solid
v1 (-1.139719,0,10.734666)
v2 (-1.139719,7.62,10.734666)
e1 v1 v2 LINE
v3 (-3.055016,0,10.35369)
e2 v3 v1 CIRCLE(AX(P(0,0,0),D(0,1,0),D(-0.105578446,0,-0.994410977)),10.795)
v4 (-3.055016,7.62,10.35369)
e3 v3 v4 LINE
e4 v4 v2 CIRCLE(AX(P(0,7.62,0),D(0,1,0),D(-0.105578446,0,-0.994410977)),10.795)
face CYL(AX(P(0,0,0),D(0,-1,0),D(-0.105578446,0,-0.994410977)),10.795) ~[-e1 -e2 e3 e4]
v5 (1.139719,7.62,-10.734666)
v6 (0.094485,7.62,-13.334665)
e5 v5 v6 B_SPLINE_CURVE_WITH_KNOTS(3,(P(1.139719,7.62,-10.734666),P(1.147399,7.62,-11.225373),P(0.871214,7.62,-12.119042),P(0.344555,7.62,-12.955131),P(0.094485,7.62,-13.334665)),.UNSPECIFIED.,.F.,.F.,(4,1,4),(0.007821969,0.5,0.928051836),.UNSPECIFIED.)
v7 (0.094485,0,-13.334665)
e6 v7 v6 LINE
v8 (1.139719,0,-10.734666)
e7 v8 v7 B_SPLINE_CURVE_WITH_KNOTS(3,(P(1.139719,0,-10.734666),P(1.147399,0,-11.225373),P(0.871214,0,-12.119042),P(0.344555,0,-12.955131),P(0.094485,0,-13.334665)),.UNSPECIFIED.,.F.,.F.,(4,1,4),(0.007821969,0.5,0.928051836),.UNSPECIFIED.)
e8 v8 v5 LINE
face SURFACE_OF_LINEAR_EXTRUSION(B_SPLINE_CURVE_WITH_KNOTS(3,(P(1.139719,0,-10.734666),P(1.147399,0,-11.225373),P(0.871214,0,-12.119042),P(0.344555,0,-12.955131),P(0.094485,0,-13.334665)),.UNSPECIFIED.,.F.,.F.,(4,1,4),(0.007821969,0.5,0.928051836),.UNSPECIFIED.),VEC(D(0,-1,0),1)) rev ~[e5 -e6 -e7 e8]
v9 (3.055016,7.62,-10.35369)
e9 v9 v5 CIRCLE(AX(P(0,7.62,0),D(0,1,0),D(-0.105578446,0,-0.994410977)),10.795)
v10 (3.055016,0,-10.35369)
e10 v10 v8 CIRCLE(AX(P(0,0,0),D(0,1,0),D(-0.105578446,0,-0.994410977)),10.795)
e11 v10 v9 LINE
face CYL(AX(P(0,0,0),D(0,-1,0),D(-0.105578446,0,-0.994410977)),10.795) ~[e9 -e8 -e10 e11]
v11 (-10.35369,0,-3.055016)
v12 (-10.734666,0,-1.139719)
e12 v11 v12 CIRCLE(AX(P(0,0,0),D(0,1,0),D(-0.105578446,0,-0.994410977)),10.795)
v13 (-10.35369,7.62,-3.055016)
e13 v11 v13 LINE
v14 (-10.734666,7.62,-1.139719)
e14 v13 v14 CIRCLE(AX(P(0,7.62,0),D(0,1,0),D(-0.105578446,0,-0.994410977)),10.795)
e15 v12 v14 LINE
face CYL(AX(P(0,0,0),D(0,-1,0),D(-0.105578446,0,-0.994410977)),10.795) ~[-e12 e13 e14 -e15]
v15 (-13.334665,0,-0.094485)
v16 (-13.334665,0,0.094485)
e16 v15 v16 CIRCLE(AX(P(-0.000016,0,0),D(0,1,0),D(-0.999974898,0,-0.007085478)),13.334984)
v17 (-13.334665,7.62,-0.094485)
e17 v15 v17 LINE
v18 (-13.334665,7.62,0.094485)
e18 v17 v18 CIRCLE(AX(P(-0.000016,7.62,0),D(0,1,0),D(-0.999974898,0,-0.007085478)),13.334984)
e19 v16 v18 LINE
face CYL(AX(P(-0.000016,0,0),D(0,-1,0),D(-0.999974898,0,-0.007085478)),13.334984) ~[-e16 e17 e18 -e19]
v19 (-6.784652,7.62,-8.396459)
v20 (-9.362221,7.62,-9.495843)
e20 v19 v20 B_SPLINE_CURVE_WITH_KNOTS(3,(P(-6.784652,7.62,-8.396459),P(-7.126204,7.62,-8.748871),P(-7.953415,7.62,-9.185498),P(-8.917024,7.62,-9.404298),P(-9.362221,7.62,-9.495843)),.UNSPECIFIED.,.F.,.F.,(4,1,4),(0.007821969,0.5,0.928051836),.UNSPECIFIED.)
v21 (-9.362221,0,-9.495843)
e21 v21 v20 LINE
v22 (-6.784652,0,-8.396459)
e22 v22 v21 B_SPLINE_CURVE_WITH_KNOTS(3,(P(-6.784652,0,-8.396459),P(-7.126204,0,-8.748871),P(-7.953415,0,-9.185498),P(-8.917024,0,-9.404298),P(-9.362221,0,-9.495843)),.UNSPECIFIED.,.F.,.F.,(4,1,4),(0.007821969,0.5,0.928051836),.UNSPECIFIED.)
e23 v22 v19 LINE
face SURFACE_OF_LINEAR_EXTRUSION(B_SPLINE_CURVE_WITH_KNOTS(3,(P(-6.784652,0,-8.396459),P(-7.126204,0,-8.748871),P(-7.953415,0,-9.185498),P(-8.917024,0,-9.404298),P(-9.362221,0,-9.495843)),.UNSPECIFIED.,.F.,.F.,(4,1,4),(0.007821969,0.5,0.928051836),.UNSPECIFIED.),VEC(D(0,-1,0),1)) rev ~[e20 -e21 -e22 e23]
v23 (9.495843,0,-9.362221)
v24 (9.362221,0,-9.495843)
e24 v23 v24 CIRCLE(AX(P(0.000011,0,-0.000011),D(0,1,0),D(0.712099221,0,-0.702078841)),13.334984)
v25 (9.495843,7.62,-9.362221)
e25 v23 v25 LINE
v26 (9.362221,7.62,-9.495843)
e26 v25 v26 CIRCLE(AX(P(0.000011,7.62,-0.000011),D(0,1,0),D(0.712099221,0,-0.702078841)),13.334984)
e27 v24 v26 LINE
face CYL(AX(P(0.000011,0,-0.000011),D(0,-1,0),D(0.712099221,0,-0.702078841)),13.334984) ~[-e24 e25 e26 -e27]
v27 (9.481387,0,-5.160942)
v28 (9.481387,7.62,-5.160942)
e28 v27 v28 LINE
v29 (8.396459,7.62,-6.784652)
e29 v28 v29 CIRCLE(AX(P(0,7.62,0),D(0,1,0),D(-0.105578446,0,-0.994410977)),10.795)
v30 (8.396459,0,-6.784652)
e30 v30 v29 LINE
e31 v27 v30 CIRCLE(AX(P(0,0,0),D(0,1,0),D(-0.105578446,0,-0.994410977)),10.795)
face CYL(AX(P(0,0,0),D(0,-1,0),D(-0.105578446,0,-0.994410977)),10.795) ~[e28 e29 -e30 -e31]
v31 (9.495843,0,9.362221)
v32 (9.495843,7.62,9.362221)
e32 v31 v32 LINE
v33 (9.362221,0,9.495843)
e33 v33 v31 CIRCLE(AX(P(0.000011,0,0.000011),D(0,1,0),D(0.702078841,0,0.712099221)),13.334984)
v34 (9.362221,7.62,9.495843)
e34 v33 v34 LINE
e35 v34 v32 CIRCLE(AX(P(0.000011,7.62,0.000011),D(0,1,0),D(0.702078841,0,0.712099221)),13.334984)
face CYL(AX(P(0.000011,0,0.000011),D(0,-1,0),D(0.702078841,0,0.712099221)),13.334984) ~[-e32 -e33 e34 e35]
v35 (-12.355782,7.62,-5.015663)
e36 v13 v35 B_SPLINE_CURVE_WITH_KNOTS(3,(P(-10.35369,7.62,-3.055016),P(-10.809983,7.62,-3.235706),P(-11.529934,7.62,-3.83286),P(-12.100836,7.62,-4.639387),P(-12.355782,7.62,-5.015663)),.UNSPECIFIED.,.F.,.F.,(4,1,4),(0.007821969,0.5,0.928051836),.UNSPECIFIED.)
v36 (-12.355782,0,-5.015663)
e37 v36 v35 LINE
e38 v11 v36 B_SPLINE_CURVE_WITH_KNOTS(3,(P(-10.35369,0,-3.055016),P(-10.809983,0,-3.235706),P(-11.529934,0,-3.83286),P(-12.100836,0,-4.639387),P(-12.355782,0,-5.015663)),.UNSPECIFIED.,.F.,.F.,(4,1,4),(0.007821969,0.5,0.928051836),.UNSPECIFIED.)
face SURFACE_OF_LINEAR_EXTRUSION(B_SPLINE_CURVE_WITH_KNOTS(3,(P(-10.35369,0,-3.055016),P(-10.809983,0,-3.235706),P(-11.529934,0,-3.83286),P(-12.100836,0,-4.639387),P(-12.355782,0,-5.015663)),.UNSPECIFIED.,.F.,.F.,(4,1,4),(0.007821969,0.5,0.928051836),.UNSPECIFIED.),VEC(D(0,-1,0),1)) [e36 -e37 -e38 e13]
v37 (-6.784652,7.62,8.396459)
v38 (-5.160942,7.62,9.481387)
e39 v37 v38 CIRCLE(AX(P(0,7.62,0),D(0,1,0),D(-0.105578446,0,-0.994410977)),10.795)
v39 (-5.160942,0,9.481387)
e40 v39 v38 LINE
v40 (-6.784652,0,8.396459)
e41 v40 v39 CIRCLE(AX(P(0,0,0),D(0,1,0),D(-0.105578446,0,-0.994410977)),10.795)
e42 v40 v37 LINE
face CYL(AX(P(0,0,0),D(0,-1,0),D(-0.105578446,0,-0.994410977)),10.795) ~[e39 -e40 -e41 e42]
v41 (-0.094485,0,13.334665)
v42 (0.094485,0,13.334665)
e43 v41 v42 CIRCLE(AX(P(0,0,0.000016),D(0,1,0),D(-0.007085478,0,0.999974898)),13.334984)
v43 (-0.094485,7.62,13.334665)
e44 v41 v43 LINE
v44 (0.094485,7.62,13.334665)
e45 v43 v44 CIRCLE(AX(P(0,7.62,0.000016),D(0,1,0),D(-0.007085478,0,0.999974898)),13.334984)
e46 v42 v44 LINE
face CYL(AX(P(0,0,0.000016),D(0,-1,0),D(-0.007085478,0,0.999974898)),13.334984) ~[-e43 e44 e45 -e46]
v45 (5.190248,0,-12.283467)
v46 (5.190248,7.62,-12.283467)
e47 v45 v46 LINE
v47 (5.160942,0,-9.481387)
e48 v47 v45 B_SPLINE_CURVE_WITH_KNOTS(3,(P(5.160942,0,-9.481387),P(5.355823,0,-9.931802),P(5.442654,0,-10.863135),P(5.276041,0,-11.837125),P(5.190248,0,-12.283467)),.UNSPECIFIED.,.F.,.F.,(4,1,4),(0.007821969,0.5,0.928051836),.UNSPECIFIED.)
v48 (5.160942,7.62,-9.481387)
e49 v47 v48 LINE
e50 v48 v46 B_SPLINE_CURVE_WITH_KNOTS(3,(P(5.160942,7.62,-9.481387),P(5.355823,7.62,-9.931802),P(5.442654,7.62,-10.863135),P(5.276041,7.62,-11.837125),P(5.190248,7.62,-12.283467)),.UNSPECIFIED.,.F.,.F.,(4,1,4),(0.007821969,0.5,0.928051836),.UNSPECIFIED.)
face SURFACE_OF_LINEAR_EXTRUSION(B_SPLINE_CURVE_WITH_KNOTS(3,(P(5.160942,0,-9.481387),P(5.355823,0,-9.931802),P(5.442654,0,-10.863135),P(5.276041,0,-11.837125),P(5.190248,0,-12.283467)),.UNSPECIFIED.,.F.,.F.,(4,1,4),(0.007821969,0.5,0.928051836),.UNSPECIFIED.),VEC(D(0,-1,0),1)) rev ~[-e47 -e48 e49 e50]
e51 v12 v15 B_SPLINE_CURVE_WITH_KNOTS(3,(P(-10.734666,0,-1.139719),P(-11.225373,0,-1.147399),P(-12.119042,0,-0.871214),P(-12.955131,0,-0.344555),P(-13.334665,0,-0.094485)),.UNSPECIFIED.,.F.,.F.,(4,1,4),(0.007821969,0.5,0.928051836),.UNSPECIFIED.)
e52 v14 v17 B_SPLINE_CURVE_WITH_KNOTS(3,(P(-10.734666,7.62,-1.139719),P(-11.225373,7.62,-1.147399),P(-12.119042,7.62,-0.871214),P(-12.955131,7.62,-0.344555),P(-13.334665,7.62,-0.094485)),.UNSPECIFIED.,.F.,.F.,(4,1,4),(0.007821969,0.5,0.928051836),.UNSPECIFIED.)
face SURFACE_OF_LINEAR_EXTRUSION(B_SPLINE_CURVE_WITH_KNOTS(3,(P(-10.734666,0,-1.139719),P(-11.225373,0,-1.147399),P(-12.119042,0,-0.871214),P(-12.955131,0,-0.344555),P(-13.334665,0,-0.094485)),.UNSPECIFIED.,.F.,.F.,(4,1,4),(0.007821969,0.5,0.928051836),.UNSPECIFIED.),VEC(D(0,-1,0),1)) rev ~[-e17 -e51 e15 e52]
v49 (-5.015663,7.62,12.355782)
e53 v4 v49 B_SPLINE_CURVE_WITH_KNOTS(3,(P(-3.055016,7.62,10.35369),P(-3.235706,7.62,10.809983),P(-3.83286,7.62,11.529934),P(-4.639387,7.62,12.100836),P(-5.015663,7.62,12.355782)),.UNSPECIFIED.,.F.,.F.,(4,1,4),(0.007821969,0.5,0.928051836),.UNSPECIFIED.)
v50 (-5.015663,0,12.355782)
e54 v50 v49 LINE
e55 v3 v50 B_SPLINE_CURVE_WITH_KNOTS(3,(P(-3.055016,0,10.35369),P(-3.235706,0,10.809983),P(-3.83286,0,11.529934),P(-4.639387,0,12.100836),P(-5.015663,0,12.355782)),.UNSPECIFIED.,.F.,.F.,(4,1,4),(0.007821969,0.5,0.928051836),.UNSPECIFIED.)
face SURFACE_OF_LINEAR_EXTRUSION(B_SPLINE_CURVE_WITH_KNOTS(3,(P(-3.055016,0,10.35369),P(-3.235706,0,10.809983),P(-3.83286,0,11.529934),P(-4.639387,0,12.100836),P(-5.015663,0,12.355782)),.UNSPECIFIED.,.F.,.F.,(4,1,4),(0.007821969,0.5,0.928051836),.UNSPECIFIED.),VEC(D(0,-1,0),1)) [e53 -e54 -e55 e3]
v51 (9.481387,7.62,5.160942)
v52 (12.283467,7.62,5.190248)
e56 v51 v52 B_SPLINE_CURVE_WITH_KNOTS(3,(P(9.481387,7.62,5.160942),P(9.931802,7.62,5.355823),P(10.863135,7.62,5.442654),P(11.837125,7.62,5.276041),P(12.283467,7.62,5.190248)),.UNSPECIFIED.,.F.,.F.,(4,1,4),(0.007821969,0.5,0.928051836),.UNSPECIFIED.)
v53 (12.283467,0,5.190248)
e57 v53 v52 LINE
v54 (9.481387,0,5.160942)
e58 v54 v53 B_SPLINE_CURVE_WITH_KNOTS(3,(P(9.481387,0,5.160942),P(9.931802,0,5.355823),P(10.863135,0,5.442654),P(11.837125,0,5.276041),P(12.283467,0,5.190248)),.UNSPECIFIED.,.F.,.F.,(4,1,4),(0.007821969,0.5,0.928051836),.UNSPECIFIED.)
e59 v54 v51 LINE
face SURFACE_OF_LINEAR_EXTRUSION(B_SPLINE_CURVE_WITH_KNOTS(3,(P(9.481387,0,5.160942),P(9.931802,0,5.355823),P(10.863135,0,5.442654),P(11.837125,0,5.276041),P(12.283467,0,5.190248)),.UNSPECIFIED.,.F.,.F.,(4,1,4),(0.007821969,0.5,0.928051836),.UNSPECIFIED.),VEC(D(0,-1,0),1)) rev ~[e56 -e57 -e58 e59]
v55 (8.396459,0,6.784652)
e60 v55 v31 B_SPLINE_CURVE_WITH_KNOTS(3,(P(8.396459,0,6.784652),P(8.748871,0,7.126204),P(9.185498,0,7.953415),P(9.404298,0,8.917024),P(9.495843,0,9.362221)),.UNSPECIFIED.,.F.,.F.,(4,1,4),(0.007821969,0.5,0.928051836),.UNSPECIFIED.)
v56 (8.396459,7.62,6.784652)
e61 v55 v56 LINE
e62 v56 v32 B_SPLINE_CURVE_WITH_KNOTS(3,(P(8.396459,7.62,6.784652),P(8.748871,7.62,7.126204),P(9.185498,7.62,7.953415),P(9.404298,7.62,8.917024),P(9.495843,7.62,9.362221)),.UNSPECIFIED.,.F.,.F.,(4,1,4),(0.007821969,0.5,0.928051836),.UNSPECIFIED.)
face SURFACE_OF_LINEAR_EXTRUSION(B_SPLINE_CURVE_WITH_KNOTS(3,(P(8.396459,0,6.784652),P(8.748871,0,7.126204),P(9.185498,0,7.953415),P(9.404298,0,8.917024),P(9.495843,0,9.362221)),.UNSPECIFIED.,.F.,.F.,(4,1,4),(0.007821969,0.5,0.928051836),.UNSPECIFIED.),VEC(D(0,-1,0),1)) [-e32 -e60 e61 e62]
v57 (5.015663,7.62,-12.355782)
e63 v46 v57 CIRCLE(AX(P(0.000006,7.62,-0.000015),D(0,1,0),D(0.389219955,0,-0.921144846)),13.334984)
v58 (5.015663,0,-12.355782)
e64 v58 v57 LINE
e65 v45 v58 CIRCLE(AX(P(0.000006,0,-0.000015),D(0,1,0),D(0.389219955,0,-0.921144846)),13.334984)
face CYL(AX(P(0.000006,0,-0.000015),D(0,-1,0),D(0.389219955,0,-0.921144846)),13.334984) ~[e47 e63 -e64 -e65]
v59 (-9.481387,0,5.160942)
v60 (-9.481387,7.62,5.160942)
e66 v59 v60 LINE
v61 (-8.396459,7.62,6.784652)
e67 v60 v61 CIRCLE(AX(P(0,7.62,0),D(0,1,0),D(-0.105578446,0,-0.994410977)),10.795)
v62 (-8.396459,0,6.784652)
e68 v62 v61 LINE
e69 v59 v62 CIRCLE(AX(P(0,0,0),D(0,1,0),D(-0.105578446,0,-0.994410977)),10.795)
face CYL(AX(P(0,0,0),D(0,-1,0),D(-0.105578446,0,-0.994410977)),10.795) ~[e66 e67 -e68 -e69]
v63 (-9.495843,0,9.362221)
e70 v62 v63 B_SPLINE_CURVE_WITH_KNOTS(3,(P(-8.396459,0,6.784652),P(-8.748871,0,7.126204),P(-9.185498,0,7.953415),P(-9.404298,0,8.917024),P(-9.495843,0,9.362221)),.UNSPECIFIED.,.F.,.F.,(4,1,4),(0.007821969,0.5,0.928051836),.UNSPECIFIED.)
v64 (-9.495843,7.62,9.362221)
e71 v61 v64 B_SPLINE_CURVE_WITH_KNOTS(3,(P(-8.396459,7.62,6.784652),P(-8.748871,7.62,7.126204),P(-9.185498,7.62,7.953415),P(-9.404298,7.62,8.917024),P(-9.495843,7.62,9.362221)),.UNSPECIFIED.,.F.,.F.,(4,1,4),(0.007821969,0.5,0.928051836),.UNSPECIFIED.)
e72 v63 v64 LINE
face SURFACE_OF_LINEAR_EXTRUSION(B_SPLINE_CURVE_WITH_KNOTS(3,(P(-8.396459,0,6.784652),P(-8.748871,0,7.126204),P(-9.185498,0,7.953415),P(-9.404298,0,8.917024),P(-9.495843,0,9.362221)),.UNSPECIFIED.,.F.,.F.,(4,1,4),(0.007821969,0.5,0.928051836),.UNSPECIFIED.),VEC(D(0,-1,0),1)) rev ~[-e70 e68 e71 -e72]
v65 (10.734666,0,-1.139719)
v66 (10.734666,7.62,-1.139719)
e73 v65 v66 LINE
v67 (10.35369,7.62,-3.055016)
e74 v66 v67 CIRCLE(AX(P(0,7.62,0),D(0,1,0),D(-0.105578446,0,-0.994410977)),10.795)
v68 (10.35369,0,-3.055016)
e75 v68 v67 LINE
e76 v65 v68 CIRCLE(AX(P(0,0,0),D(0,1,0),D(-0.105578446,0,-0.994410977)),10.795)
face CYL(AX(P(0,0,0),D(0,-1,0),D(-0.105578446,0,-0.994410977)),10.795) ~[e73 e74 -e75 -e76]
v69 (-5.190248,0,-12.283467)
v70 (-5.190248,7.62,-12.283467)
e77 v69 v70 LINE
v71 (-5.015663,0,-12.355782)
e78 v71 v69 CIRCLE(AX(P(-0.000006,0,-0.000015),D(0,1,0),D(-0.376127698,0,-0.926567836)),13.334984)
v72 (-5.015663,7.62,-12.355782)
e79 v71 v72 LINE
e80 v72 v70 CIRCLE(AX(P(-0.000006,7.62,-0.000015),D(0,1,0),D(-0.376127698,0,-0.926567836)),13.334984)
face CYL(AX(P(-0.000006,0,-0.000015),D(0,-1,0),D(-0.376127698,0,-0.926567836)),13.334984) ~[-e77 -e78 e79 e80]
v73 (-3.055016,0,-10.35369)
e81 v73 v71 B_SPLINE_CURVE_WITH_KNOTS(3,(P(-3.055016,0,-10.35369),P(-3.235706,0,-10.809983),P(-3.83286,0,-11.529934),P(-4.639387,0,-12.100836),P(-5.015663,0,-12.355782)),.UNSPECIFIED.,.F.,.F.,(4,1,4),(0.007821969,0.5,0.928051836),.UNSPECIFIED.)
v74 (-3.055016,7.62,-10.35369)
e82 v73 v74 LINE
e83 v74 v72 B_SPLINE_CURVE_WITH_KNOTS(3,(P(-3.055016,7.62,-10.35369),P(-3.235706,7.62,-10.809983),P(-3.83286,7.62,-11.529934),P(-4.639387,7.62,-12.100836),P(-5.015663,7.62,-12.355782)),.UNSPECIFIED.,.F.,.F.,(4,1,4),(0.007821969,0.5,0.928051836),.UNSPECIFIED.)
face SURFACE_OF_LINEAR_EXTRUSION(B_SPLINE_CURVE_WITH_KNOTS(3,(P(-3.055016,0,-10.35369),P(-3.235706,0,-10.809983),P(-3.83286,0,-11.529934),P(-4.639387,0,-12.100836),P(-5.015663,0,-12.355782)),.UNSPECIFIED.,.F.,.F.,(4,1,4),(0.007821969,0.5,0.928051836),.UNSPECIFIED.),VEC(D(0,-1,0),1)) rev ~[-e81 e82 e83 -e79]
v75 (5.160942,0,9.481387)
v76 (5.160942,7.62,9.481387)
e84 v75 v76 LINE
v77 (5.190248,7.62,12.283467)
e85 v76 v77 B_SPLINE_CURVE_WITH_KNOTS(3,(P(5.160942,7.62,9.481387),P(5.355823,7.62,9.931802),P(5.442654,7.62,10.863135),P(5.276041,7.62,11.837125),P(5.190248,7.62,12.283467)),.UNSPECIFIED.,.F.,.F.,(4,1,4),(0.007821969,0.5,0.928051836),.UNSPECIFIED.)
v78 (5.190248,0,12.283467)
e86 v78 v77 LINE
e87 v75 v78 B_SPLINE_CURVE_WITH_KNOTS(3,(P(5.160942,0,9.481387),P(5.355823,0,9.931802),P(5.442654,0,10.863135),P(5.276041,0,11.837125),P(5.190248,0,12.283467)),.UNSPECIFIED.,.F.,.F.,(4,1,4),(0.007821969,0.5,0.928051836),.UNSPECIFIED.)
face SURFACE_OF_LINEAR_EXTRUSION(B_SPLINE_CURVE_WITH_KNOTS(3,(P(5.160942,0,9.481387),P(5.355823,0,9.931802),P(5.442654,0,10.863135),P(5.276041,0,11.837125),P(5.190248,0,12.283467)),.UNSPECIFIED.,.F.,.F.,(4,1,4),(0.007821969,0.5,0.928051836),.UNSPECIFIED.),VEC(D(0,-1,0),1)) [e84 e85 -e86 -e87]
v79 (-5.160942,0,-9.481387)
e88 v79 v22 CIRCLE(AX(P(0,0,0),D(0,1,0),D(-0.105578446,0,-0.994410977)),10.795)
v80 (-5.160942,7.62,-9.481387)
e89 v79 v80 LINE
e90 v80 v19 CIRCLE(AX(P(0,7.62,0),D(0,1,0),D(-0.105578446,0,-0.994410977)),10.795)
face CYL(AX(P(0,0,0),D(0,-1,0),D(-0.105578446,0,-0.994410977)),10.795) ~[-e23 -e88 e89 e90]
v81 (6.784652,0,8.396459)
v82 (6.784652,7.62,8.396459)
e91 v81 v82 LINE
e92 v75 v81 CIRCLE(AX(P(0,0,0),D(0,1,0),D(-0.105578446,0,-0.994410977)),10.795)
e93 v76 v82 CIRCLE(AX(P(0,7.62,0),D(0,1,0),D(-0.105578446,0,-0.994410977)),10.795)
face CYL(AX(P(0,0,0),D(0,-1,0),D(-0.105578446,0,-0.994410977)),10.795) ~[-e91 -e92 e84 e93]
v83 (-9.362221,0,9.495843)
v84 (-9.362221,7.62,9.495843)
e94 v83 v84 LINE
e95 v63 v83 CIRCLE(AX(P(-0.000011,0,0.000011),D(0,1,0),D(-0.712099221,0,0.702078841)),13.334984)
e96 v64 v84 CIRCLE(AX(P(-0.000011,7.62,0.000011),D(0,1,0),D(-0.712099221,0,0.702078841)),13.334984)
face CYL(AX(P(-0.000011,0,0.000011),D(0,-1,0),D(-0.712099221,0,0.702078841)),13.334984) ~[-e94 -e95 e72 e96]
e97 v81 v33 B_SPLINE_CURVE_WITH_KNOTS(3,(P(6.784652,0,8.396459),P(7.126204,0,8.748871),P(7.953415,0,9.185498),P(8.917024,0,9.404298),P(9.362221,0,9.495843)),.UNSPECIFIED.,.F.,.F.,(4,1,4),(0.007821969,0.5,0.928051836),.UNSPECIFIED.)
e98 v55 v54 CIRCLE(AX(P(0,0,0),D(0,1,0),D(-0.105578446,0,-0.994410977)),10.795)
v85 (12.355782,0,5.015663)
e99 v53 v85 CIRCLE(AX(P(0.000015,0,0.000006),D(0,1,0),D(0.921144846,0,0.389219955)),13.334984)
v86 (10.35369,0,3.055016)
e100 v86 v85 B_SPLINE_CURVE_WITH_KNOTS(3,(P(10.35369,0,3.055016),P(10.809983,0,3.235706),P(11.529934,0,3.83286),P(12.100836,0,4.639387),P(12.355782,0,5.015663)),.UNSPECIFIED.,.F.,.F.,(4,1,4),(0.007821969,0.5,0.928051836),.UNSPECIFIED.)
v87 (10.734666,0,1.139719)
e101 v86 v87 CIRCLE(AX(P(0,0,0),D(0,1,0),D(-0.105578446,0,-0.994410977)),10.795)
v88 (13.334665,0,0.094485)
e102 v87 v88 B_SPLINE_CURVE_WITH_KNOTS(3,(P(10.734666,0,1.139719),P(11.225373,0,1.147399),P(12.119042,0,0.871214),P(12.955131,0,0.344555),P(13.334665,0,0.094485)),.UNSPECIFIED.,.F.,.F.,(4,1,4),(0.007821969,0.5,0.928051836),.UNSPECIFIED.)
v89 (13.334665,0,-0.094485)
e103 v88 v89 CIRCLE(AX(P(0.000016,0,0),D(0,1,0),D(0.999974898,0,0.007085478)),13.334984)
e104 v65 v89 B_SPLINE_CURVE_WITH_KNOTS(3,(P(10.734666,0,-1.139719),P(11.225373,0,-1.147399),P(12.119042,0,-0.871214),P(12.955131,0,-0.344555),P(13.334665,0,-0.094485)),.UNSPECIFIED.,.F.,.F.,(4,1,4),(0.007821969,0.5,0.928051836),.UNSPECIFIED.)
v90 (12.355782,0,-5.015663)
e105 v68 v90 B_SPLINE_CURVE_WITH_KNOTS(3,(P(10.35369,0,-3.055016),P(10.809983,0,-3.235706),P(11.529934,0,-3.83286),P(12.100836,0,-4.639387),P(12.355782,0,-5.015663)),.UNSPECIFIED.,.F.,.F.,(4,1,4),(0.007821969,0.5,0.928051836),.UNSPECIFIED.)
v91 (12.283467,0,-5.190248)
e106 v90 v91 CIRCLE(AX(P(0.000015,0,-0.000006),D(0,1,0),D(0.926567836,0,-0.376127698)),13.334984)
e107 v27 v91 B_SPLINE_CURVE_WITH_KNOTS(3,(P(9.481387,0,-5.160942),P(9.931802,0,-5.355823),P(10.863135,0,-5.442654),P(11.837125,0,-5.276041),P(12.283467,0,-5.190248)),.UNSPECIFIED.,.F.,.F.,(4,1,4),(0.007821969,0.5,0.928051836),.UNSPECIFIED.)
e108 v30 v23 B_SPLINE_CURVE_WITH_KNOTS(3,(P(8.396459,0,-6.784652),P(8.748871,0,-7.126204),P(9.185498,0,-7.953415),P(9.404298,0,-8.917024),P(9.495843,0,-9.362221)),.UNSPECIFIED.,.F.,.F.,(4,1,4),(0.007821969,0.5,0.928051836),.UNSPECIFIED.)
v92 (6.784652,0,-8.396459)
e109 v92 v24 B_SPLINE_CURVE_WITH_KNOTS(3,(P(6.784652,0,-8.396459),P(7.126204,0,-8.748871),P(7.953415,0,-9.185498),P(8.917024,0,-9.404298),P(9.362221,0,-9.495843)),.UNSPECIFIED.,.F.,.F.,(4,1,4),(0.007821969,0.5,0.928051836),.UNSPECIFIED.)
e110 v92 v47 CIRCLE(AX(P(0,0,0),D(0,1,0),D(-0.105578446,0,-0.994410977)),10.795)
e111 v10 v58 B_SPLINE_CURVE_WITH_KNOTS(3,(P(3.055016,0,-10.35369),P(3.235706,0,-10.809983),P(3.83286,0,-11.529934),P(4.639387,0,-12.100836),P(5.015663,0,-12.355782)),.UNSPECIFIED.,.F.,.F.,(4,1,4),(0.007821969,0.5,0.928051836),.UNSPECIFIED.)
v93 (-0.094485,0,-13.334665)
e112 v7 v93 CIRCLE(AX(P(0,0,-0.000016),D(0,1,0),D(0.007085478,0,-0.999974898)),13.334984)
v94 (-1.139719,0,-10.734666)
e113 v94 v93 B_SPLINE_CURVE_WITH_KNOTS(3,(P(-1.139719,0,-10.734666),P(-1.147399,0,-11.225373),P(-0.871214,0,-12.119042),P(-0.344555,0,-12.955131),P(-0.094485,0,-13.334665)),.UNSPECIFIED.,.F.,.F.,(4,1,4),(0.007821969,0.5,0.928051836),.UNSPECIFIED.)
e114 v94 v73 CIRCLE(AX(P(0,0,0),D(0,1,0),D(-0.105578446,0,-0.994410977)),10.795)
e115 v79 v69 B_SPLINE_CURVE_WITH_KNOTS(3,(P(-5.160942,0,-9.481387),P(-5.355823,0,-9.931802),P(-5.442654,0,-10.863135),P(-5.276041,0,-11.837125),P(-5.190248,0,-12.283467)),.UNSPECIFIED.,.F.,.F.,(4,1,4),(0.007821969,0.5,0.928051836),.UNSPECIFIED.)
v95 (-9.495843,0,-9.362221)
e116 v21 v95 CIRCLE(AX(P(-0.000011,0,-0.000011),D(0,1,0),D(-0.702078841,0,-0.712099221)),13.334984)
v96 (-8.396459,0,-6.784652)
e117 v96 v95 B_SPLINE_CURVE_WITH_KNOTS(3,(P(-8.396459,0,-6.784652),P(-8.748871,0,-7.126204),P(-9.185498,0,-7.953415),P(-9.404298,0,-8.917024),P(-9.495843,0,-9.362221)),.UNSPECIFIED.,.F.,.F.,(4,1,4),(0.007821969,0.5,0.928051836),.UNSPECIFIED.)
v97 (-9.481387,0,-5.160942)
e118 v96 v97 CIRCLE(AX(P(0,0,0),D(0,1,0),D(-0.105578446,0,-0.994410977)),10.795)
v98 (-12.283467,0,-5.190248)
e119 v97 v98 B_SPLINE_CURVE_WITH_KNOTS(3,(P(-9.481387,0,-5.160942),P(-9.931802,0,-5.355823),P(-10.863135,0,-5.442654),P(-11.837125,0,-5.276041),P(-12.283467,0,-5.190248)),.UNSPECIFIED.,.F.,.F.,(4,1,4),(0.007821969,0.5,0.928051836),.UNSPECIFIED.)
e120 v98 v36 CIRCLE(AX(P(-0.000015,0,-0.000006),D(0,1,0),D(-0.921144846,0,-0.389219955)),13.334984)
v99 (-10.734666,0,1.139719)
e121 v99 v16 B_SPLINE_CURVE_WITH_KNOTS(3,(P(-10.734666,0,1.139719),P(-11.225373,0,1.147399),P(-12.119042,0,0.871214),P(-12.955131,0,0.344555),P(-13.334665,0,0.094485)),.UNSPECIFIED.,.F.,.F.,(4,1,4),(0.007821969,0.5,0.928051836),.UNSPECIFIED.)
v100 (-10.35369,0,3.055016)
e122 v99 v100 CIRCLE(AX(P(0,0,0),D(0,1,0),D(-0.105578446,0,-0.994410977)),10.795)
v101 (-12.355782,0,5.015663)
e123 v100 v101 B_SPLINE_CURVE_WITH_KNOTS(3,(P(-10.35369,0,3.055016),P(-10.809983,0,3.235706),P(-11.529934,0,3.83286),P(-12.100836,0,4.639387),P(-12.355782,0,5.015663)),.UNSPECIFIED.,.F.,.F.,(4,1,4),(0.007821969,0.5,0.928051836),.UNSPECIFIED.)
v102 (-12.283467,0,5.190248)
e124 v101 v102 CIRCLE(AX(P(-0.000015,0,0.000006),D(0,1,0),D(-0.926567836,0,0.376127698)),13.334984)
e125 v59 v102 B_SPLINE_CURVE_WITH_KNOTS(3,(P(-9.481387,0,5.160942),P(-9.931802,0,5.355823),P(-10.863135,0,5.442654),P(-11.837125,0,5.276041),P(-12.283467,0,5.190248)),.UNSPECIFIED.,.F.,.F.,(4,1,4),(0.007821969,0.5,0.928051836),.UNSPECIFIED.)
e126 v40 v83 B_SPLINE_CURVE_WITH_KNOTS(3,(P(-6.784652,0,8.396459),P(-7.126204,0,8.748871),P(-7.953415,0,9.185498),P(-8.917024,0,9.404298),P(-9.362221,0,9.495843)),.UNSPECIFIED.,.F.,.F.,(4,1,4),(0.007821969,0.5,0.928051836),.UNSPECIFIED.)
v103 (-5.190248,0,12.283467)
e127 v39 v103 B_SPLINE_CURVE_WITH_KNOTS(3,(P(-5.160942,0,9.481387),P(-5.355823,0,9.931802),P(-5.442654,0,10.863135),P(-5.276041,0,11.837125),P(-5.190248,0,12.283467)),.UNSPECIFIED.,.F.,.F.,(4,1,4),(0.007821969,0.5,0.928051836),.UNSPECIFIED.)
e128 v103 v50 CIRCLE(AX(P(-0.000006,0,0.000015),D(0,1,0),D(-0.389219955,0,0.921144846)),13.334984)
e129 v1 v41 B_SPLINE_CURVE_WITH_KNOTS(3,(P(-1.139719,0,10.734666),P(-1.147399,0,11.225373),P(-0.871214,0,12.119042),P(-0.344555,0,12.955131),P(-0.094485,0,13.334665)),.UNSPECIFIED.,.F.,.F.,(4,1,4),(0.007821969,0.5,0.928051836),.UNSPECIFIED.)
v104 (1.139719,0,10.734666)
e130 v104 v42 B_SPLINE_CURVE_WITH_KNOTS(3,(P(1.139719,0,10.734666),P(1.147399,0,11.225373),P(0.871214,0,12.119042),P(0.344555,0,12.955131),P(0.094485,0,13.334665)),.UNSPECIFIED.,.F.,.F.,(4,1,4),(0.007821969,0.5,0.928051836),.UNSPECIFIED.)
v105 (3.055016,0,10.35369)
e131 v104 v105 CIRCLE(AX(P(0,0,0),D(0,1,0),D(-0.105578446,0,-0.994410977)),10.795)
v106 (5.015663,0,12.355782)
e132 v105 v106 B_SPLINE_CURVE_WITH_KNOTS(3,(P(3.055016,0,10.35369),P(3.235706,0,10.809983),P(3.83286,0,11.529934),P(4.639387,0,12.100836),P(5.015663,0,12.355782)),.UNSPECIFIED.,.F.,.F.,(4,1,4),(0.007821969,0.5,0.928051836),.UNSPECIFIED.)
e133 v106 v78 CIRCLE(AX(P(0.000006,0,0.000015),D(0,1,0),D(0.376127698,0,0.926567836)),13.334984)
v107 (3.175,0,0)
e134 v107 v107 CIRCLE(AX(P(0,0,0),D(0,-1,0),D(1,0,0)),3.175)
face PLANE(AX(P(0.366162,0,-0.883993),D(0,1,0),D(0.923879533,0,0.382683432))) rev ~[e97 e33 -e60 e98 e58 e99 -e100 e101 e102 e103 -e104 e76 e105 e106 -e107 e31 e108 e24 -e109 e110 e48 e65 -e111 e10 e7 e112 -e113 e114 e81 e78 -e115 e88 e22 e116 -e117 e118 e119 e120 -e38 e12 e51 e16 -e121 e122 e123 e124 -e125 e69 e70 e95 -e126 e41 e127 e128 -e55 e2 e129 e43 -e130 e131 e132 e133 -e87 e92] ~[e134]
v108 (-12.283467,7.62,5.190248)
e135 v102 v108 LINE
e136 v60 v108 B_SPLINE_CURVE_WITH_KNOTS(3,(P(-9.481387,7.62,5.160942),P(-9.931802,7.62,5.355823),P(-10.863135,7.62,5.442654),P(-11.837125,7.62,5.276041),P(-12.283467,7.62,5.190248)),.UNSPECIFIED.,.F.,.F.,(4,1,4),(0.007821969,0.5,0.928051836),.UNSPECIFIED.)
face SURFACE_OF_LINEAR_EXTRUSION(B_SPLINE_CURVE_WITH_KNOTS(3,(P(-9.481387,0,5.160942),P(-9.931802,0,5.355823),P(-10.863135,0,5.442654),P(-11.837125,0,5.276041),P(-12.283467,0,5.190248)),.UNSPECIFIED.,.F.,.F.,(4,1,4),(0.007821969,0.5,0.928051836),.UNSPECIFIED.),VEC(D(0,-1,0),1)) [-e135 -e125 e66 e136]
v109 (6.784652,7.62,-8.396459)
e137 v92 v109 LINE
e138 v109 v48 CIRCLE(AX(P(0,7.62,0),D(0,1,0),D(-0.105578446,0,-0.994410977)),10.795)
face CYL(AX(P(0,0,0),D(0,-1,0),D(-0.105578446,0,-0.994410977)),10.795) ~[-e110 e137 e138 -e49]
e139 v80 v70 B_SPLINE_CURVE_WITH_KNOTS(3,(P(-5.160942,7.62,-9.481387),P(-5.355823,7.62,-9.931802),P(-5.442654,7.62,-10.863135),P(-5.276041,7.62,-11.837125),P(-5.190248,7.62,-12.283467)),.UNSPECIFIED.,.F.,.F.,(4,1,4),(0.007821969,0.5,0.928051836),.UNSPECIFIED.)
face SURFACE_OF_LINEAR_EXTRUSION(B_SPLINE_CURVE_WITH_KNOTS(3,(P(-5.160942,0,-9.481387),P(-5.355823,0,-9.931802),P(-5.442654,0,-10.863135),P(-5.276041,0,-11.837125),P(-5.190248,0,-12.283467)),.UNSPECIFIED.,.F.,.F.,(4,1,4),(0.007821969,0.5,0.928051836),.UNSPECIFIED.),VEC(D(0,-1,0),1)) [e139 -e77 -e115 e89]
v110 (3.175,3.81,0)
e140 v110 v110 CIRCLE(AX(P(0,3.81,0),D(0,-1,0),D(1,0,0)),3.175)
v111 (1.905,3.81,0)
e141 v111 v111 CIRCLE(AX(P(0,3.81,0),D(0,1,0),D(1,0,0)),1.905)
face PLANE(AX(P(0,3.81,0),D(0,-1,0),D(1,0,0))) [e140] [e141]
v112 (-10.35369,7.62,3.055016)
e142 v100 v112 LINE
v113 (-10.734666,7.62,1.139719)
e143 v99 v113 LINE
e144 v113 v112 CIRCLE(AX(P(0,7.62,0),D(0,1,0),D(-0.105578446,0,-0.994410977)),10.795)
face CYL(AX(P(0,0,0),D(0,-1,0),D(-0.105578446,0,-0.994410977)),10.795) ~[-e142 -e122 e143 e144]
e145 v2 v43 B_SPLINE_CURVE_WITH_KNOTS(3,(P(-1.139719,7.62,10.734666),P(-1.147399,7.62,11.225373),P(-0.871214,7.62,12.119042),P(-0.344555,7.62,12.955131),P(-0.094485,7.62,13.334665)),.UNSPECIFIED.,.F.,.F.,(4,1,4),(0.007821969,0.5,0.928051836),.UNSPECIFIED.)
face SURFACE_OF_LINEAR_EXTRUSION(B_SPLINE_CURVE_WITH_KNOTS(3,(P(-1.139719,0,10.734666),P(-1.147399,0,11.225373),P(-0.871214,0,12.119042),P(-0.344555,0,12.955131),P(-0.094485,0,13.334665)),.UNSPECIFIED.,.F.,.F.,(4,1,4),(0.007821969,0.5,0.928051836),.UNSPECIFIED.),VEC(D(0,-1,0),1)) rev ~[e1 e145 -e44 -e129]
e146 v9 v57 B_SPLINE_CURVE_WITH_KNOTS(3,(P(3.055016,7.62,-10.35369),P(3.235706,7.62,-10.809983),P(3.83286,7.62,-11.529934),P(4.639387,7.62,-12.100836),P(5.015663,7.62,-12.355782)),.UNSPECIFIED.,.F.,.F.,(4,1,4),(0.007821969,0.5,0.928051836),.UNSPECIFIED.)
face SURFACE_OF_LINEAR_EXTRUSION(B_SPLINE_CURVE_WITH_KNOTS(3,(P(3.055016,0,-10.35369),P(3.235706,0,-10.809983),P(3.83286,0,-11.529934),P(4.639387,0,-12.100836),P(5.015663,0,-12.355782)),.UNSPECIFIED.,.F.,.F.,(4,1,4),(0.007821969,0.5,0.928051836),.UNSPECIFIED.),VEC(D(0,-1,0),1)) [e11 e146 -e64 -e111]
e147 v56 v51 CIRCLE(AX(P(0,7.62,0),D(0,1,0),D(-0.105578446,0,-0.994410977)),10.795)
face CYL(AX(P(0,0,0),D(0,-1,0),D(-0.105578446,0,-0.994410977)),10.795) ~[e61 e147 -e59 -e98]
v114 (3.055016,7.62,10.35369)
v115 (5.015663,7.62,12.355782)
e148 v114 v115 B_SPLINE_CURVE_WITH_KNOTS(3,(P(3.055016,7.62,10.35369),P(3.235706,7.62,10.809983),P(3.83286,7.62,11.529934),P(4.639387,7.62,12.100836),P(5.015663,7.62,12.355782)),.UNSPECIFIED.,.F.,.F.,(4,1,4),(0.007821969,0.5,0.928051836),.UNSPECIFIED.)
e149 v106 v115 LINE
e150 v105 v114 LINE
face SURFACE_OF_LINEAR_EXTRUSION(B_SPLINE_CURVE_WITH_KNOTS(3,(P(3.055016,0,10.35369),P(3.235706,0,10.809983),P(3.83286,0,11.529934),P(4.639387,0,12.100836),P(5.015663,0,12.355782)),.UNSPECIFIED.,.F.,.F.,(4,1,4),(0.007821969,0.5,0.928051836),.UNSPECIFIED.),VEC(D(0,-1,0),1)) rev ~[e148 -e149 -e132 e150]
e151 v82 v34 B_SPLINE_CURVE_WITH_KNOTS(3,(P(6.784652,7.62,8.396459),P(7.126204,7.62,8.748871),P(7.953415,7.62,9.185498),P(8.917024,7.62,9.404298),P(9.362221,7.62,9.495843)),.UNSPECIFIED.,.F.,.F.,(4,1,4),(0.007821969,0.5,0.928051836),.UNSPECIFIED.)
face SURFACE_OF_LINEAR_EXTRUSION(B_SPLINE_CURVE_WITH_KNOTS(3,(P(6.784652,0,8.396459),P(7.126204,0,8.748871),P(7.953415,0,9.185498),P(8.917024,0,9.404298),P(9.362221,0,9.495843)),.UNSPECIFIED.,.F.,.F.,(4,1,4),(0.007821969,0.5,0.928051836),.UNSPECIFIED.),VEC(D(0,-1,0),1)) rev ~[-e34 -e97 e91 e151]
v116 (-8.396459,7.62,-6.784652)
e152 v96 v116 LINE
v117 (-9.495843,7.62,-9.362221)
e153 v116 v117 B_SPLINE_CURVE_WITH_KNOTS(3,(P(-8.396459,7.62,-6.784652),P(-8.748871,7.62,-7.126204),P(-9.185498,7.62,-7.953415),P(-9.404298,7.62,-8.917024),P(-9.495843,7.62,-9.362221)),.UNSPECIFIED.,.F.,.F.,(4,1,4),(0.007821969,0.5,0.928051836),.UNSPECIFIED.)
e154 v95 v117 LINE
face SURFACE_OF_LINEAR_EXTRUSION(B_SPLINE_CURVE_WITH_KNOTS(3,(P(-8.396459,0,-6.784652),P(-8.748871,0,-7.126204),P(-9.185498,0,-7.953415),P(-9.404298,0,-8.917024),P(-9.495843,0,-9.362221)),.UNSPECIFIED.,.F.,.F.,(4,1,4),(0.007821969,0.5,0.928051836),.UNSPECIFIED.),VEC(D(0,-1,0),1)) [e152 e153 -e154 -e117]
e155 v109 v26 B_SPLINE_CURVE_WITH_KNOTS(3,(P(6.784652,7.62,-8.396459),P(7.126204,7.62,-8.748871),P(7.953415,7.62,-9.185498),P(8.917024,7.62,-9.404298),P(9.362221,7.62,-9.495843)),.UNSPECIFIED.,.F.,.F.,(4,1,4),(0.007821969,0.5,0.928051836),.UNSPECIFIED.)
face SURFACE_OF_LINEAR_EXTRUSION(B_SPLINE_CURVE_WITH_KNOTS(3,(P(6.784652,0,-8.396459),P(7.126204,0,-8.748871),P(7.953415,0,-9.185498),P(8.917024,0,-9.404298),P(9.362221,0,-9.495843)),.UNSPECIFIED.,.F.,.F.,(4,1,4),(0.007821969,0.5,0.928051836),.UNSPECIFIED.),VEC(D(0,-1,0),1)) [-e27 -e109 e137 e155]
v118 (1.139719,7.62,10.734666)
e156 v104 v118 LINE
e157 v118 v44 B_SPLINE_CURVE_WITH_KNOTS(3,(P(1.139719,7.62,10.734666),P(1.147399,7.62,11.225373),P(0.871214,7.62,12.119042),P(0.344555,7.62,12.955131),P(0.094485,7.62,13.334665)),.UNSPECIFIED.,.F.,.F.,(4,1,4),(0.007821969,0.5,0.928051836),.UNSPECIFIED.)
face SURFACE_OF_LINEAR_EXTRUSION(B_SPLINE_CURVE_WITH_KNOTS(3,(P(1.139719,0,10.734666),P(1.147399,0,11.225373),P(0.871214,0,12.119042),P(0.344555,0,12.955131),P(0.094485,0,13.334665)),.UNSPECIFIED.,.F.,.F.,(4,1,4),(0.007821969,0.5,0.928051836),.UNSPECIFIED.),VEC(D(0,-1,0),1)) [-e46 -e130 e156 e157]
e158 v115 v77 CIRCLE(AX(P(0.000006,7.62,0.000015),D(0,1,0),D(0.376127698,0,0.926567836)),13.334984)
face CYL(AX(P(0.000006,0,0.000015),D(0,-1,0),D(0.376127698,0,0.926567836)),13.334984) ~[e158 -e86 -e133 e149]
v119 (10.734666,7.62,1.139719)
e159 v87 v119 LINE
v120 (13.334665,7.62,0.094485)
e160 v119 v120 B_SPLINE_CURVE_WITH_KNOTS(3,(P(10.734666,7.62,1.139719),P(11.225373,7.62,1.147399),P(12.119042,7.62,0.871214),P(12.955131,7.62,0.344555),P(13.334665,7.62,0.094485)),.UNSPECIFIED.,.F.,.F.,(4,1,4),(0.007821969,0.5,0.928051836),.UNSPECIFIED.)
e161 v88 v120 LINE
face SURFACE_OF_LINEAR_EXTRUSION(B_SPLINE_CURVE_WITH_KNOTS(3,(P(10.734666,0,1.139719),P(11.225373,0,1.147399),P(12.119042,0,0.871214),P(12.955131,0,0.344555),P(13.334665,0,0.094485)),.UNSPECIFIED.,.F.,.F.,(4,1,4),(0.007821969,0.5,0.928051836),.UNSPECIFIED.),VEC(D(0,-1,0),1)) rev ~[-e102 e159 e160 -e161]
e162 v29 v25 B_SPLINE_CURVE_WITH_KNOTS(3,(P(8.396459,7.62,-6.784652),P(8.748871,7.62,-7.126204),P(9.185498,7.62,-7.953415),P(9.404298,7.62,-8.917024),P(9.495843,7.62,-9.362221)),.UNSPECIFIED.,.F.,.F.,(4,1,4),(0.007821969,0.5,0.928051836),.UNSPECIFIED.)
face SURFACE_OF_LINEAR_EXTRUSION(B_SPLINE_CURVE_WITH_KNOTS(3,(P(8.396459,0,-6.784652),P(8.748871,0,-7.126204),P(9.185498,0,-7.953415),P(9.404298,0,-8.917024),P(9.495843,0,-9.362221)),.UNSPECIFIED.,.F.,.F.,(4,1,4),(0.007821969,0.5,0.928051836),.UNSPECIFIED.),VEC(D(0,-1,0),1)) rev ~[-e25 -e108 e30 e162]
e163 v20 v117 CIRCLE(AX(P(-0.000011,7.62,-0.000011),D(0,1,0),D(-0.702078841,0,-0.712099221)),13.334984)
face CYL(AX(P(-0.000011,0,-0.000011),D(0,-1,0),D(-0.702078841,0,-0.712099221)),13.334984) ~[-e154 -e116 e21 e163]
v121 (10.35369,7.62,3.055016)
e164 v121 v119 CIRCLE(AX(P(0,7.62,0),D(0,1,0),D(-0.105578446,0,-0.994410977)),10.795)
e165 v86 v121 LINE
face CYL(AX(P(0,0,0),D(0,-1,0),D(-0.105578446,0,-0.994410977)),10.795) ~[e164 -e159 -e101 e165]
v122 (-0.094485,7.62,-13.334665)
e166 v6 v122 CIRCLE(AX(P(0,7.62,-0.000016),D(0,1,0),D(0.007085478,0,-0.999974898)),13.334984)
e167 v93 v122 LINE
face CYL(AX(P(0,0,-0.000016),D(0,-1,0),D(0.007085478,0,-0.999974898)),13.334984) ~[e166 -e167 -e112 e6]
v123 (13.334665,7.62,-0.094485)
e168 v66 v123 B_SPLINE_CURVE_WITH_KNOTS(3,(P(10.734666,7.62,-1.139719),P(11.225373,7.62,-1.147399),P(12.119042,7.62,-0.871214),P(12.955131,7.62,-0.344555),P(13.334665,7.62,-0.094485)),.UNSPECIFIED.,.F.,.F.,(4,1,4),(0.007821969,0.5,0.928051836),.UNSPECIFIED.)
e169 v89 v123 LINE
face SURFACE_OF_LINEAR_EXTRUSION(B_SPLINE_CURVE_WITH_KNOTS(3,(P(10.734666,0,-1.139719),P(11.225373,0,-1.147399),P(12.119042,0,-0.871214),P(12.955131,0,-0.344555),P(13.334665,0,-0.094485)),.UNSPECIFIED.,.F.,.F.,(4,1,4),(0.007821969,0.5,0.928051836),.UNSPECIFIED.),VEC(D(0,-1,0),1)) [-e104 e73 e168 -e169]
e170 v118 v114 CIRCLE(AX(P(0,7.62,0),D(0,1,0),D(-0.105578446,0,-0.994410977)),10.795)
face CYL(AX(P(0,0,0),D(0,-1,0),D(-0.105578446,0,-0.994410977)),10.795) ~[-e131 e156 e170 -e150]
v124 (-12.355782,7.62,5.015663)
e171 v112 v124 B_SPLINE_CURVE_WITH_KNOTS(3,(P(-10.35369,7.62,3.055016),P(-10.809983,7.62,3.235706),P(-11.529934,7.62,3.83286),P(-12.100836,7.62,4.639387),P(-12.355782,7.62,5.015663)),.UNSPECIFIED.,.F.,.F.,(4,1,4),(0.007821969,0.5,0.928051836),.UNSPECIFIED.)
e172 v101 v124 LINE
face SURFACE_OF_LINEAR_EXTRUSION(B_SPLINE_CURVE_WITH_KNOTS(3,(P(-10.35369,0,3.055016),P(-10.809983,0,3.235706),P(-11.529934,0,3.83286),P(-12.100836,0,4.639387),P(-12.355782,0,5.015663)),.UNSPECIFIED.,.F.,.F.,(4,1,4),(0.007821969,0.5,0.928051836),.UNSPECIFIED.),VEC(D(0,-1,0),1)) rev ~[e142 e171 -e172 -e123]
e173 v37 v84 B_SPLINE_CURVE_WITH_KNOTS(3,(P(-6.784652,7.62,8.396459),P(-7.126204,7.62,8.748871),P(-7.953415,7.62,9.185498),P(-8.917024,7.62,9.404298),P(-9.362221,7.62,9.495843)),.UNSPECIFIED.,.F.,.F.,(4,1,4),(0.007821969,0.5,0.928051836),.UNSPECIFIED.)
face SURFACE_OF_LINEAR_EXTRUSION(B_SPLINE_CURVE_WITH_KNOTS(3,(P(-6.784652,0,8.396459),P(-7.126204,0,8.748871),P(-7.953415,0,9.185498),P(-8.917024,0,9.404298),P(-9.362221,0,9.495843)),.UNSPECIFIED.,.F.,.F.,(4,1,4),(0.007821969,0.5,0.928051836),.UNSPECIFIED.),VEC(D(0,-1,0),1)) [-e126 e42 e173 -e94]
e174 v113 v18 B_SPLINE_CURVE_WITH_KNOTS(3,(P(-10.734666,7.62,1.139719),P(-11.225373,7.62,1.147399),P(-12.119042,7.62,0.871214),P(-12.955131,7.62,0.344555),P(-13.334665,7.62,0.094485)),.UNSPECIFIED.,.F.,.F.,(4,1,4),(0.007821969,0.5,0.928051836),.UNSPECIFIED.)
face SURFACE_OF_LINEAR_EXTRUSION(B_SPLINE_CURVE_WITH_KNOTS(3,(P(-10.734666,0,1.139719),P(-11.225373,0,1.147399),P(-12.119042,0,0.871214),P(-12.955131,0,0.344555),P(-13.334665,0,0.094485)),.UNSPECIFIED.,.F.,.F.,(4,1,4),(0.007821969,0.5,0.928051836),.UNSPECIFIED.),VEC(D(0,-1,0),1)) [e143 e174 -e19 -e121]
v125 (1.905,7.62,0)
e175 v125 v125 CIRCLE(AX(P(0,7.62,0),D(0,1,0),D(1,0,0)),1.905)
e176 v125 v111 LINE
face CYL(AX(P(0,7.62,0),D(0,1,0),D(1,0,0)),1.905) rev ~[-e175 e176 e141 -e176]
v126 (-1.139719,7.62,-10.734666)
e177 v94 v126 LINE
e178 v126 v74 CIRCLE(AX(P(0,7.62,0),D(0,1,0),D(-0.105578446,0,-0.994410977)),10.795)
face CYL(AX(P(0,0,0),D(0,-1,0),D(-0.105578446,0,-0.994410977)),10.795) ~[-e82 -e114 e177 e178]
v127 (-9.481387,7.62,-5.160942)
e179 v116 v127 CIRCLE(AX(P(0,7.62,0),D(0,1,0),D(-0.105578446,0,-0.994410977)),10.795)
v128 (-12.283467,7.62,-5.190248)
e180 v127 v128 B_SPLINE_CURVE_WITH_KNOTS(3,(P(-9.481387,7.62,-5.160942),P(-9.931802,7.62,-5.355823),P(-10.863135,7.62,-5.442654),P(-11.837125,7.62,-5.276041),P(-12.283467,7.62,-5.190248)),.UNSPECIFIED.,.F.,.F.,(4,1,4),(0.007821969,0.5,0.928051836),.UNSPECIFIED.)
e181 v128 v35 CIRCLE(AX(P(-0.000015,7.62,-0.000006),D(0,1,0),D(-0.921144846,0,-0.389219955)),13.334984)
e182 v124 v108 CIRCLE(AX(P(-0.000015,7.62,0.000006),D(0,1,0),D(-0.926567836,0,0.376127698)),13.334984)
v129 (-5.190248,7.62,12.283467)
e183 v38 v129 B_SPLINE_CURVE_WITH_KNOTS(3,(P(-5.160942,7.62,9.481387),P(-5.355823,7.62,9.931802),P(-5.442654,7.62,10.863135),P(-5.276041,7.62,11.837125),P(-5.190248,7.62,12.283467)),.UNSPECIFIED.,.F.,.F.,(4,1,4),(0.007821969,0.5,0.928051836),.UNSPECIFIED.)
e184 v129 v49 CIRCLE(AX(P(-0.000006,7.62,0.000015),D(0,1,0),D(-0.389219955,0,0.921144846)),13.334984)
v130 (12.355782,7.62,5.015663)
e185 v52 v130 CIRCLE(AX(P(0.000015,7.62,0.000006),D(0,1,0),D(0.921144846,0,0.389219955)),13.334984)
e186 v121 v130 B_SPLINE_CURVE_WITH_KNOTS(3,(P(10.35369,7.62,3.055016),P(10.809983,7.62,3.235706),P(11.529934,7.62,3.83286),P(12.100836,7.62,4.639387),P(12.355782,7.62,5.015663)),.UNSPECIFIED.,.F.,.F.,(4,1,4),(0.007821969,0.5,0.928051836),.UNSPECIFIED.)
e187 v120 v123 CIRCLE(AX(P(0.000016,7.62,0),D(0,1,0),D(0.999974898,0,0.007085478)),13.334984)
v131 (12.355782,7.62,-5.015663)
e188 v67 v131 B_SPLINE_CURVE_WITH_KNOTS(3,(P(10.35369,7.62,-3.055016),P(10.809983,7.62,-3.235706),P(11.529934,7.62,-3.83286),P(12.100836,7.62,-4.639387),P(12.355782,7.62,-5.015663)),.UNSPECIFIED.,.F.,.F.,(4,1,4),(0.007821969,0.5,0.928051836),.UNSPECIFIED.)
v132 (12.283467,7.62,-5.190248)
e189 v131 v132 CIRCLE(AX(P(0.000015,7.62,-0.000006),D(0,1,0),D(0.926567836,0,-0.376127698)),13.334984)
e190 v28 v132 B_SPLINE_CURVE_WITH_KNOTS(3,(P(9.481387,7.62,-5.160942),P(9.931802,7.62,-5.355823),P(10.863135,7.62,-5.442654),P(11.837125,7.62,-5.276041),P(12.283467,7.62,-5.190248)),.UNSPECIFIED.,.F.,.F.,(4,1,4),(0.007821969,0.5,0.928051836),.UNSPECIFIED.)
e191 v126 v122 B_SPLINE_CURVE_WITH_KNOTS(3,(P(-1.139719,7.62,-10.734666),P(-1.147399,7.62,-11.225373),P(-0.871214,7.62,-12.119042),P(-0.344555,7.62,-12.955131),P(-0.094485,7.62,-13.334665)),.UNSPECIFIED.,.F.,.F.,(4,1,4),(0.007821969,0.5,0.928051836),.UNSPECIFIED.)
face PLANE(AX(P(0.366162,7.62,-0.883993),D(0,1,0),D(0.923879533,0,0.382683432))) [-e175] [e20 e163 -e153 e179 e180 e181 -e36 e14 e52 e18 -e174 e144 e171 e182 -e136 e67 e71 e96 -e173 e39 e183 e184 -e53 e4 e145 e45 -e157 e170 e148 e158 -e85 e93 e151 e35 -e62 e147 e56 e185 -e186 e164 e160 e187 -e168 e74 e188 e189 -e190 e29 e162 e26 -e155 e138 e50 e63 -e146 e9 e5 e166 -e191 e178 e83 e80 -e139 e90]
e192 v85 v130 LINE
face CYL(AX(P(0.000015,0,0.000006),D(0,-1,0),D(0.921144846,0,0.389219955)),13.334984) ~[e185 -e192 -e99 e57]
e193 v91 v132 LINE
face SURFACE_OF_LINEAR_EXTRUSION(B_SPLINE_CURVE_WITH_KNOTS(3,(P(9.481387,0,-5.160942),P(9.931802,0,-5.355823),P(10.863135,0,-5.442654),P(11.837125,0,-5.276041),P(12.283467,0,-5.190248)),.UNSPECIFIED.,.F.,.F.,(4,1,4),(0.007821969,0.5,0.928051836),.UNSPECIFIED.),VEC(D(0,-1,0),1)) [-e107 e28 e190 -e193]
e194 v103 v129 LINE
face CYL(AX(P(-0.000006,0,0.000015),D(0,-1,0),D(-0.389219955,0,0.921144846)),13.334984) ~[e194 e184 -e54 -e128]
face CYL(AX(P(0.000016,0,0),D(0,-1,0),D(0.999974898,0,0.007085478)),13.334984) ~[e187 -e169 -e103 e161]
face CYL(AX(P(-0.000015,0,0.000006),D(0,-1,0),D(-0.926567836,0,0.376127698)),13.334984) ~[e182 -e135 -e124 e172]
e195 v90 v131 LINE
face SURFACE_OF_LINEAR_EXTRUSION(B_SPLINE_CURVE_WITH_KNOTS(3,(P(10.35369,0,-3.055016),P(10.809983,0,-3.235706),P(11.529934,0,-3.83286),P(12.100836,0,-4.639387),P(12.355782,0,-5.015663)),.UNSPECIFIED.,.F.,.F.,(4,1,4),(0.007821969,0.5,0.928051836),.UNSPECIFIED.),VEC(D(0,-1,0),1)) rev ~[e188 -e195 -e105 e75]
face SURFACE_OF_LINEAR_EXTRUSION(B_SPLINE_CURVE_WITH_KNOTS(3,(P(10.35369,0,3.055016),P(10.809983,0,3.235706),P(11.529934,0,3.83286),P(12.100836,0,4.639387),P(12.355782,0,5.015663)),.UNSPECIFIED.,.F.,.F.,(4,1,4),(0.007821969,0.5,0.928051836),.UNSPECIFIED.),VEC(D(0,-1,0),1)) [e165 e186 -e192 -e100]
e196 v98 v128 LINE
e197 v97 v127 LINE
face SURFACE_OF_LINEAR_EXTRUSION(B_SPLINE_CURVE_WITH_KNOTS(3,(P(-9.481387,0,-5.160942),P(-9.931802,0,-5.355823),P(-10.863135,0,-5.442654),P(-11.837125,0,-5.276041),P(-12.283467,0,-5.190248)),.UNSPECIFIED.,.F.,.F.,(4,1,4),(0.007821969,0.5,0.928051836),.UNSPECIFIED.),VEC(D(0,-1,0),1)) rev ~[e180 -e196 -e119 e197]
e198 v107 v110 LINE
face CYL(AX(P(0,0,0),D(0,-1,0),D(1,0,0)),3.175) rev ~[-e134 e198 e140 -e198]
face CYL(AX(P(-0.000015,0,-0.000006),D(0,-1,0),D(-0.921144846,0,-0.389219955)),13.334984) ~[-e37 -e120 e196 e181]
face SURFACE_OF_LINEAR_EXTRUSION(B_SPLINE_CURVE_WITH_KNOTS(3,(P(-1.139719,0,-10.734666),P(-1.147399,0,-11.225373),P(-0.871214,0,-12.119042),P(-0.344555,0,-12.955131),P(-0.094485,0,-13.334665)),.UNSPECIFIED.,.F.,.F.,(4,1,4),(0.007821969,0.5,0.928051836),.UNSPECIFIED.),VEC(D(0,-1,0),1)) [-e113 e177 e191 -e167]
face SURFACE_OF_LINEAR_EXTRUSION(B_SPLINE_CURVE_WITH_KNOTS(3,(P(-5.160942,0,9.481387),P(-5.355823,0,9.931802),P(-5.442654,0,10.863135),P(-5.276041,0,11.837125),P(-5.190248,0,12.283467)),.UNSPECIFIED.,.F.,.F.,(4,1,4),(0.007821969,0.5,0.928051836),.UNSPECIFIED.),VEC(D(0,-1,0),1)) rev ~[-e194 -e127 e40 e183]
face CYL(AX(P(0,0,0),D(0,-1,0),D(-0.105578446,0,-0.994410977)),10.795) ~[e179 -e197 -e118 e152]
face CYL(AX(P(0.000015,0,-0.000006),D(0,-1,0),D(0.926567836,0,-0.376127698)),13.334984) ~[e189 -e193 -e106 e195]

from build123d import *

# Parameters (mm, degrees)
BOSS_EXTRUDE1_DEPTH = 7.62
CIRPATTERN1_COUNT   = 16
SKETCH2_R           = 1.905
CUT_EXTRUDE1_DEPTH  = 8.6200001
SKETCH4_R           = 3.175
CUT_EXTRUDE2_DEPTH  = 3.81


with BuildPart() as part:
    # Sketch1 → Boss-Extrude1 (new body)
    with BuildSketch(Plane(origin=(0, 0, 0), x_dir=(1, 0, 0), z_dir=(0, 1, 0))):
        with BuildLine():
            add(Edge.make_bspline(
                [(1.139719329, 10.734666499), (1.147399116, 11.22537279), (0.871214241, 12.119041795), (0.344554873, 12.955131401), (0.094484742, 13.334665261)],
                knots=[0.007821969, 0.007821969, 0.007821969, 0.007821969, 0.5, 0.928051836, 0.928051836, 0.928051836, 0.928051836], degree=3))
            ThreePointArc((0.094484742, 13.334665261), (0, 13.335), (-0.094484742, 13.334665261))
            add(Edge.make_bspline(
                [(-1.139719329, 10.734666499), (-1.147399116, 11.22537279), (-0.871214241, 12.119041795), (-0.344554873, 12.955131401), (-0.094484742, 13.334665261)],
                knots=[0.007821969, 0.007821969, 0.007821969, 0.007821969, 0.5, 0.928051836, 0.928051836, 0.928051836, 0.928051836], degree=3))
            ThreePointArc((-1.139719329, 10.734666499), (0, -10.795), (1.139719329, 10.734666499))
        make_face()
    boss_extrude1 = extrude(amount=BOSS_EXTRUDE1_DEPTH)

    # CirPattern1: Boss-Extrude1 ×16 about axis
    cirpattern1_axis = Axis((0, 7.62, 0), (0, 1, 0))
    for i in range(1, CIRPATTERN1_COUNT):
        add(boss_extrude1.rotate(cirpattern1_axis, i * 360 / CIRPATTERN1_COUNT))

    # Sketch2 → Cut-Extrude1 (cut, through all)
    with BuildSketch(Plane(origin=(0, 7.62, 0), x_dir=(1, 0, 0), z_dir=(0, 1, 0))):
        Circle(SKETCH2_R)
    extrude(amount=-CUT_EXTRUDE1_DEPTH, mode=Mode.SUBTRACT)

    # Sketch4 → Cut-Extrude2 (cut)
    with BuildSketch(Plane.XZ):
        Circle(SKETCH4_R)
    extrude(amount=-CUT_EXTRUDE2_DEPTH, mode=Mode.SUBTRACT)


solid = part.part
